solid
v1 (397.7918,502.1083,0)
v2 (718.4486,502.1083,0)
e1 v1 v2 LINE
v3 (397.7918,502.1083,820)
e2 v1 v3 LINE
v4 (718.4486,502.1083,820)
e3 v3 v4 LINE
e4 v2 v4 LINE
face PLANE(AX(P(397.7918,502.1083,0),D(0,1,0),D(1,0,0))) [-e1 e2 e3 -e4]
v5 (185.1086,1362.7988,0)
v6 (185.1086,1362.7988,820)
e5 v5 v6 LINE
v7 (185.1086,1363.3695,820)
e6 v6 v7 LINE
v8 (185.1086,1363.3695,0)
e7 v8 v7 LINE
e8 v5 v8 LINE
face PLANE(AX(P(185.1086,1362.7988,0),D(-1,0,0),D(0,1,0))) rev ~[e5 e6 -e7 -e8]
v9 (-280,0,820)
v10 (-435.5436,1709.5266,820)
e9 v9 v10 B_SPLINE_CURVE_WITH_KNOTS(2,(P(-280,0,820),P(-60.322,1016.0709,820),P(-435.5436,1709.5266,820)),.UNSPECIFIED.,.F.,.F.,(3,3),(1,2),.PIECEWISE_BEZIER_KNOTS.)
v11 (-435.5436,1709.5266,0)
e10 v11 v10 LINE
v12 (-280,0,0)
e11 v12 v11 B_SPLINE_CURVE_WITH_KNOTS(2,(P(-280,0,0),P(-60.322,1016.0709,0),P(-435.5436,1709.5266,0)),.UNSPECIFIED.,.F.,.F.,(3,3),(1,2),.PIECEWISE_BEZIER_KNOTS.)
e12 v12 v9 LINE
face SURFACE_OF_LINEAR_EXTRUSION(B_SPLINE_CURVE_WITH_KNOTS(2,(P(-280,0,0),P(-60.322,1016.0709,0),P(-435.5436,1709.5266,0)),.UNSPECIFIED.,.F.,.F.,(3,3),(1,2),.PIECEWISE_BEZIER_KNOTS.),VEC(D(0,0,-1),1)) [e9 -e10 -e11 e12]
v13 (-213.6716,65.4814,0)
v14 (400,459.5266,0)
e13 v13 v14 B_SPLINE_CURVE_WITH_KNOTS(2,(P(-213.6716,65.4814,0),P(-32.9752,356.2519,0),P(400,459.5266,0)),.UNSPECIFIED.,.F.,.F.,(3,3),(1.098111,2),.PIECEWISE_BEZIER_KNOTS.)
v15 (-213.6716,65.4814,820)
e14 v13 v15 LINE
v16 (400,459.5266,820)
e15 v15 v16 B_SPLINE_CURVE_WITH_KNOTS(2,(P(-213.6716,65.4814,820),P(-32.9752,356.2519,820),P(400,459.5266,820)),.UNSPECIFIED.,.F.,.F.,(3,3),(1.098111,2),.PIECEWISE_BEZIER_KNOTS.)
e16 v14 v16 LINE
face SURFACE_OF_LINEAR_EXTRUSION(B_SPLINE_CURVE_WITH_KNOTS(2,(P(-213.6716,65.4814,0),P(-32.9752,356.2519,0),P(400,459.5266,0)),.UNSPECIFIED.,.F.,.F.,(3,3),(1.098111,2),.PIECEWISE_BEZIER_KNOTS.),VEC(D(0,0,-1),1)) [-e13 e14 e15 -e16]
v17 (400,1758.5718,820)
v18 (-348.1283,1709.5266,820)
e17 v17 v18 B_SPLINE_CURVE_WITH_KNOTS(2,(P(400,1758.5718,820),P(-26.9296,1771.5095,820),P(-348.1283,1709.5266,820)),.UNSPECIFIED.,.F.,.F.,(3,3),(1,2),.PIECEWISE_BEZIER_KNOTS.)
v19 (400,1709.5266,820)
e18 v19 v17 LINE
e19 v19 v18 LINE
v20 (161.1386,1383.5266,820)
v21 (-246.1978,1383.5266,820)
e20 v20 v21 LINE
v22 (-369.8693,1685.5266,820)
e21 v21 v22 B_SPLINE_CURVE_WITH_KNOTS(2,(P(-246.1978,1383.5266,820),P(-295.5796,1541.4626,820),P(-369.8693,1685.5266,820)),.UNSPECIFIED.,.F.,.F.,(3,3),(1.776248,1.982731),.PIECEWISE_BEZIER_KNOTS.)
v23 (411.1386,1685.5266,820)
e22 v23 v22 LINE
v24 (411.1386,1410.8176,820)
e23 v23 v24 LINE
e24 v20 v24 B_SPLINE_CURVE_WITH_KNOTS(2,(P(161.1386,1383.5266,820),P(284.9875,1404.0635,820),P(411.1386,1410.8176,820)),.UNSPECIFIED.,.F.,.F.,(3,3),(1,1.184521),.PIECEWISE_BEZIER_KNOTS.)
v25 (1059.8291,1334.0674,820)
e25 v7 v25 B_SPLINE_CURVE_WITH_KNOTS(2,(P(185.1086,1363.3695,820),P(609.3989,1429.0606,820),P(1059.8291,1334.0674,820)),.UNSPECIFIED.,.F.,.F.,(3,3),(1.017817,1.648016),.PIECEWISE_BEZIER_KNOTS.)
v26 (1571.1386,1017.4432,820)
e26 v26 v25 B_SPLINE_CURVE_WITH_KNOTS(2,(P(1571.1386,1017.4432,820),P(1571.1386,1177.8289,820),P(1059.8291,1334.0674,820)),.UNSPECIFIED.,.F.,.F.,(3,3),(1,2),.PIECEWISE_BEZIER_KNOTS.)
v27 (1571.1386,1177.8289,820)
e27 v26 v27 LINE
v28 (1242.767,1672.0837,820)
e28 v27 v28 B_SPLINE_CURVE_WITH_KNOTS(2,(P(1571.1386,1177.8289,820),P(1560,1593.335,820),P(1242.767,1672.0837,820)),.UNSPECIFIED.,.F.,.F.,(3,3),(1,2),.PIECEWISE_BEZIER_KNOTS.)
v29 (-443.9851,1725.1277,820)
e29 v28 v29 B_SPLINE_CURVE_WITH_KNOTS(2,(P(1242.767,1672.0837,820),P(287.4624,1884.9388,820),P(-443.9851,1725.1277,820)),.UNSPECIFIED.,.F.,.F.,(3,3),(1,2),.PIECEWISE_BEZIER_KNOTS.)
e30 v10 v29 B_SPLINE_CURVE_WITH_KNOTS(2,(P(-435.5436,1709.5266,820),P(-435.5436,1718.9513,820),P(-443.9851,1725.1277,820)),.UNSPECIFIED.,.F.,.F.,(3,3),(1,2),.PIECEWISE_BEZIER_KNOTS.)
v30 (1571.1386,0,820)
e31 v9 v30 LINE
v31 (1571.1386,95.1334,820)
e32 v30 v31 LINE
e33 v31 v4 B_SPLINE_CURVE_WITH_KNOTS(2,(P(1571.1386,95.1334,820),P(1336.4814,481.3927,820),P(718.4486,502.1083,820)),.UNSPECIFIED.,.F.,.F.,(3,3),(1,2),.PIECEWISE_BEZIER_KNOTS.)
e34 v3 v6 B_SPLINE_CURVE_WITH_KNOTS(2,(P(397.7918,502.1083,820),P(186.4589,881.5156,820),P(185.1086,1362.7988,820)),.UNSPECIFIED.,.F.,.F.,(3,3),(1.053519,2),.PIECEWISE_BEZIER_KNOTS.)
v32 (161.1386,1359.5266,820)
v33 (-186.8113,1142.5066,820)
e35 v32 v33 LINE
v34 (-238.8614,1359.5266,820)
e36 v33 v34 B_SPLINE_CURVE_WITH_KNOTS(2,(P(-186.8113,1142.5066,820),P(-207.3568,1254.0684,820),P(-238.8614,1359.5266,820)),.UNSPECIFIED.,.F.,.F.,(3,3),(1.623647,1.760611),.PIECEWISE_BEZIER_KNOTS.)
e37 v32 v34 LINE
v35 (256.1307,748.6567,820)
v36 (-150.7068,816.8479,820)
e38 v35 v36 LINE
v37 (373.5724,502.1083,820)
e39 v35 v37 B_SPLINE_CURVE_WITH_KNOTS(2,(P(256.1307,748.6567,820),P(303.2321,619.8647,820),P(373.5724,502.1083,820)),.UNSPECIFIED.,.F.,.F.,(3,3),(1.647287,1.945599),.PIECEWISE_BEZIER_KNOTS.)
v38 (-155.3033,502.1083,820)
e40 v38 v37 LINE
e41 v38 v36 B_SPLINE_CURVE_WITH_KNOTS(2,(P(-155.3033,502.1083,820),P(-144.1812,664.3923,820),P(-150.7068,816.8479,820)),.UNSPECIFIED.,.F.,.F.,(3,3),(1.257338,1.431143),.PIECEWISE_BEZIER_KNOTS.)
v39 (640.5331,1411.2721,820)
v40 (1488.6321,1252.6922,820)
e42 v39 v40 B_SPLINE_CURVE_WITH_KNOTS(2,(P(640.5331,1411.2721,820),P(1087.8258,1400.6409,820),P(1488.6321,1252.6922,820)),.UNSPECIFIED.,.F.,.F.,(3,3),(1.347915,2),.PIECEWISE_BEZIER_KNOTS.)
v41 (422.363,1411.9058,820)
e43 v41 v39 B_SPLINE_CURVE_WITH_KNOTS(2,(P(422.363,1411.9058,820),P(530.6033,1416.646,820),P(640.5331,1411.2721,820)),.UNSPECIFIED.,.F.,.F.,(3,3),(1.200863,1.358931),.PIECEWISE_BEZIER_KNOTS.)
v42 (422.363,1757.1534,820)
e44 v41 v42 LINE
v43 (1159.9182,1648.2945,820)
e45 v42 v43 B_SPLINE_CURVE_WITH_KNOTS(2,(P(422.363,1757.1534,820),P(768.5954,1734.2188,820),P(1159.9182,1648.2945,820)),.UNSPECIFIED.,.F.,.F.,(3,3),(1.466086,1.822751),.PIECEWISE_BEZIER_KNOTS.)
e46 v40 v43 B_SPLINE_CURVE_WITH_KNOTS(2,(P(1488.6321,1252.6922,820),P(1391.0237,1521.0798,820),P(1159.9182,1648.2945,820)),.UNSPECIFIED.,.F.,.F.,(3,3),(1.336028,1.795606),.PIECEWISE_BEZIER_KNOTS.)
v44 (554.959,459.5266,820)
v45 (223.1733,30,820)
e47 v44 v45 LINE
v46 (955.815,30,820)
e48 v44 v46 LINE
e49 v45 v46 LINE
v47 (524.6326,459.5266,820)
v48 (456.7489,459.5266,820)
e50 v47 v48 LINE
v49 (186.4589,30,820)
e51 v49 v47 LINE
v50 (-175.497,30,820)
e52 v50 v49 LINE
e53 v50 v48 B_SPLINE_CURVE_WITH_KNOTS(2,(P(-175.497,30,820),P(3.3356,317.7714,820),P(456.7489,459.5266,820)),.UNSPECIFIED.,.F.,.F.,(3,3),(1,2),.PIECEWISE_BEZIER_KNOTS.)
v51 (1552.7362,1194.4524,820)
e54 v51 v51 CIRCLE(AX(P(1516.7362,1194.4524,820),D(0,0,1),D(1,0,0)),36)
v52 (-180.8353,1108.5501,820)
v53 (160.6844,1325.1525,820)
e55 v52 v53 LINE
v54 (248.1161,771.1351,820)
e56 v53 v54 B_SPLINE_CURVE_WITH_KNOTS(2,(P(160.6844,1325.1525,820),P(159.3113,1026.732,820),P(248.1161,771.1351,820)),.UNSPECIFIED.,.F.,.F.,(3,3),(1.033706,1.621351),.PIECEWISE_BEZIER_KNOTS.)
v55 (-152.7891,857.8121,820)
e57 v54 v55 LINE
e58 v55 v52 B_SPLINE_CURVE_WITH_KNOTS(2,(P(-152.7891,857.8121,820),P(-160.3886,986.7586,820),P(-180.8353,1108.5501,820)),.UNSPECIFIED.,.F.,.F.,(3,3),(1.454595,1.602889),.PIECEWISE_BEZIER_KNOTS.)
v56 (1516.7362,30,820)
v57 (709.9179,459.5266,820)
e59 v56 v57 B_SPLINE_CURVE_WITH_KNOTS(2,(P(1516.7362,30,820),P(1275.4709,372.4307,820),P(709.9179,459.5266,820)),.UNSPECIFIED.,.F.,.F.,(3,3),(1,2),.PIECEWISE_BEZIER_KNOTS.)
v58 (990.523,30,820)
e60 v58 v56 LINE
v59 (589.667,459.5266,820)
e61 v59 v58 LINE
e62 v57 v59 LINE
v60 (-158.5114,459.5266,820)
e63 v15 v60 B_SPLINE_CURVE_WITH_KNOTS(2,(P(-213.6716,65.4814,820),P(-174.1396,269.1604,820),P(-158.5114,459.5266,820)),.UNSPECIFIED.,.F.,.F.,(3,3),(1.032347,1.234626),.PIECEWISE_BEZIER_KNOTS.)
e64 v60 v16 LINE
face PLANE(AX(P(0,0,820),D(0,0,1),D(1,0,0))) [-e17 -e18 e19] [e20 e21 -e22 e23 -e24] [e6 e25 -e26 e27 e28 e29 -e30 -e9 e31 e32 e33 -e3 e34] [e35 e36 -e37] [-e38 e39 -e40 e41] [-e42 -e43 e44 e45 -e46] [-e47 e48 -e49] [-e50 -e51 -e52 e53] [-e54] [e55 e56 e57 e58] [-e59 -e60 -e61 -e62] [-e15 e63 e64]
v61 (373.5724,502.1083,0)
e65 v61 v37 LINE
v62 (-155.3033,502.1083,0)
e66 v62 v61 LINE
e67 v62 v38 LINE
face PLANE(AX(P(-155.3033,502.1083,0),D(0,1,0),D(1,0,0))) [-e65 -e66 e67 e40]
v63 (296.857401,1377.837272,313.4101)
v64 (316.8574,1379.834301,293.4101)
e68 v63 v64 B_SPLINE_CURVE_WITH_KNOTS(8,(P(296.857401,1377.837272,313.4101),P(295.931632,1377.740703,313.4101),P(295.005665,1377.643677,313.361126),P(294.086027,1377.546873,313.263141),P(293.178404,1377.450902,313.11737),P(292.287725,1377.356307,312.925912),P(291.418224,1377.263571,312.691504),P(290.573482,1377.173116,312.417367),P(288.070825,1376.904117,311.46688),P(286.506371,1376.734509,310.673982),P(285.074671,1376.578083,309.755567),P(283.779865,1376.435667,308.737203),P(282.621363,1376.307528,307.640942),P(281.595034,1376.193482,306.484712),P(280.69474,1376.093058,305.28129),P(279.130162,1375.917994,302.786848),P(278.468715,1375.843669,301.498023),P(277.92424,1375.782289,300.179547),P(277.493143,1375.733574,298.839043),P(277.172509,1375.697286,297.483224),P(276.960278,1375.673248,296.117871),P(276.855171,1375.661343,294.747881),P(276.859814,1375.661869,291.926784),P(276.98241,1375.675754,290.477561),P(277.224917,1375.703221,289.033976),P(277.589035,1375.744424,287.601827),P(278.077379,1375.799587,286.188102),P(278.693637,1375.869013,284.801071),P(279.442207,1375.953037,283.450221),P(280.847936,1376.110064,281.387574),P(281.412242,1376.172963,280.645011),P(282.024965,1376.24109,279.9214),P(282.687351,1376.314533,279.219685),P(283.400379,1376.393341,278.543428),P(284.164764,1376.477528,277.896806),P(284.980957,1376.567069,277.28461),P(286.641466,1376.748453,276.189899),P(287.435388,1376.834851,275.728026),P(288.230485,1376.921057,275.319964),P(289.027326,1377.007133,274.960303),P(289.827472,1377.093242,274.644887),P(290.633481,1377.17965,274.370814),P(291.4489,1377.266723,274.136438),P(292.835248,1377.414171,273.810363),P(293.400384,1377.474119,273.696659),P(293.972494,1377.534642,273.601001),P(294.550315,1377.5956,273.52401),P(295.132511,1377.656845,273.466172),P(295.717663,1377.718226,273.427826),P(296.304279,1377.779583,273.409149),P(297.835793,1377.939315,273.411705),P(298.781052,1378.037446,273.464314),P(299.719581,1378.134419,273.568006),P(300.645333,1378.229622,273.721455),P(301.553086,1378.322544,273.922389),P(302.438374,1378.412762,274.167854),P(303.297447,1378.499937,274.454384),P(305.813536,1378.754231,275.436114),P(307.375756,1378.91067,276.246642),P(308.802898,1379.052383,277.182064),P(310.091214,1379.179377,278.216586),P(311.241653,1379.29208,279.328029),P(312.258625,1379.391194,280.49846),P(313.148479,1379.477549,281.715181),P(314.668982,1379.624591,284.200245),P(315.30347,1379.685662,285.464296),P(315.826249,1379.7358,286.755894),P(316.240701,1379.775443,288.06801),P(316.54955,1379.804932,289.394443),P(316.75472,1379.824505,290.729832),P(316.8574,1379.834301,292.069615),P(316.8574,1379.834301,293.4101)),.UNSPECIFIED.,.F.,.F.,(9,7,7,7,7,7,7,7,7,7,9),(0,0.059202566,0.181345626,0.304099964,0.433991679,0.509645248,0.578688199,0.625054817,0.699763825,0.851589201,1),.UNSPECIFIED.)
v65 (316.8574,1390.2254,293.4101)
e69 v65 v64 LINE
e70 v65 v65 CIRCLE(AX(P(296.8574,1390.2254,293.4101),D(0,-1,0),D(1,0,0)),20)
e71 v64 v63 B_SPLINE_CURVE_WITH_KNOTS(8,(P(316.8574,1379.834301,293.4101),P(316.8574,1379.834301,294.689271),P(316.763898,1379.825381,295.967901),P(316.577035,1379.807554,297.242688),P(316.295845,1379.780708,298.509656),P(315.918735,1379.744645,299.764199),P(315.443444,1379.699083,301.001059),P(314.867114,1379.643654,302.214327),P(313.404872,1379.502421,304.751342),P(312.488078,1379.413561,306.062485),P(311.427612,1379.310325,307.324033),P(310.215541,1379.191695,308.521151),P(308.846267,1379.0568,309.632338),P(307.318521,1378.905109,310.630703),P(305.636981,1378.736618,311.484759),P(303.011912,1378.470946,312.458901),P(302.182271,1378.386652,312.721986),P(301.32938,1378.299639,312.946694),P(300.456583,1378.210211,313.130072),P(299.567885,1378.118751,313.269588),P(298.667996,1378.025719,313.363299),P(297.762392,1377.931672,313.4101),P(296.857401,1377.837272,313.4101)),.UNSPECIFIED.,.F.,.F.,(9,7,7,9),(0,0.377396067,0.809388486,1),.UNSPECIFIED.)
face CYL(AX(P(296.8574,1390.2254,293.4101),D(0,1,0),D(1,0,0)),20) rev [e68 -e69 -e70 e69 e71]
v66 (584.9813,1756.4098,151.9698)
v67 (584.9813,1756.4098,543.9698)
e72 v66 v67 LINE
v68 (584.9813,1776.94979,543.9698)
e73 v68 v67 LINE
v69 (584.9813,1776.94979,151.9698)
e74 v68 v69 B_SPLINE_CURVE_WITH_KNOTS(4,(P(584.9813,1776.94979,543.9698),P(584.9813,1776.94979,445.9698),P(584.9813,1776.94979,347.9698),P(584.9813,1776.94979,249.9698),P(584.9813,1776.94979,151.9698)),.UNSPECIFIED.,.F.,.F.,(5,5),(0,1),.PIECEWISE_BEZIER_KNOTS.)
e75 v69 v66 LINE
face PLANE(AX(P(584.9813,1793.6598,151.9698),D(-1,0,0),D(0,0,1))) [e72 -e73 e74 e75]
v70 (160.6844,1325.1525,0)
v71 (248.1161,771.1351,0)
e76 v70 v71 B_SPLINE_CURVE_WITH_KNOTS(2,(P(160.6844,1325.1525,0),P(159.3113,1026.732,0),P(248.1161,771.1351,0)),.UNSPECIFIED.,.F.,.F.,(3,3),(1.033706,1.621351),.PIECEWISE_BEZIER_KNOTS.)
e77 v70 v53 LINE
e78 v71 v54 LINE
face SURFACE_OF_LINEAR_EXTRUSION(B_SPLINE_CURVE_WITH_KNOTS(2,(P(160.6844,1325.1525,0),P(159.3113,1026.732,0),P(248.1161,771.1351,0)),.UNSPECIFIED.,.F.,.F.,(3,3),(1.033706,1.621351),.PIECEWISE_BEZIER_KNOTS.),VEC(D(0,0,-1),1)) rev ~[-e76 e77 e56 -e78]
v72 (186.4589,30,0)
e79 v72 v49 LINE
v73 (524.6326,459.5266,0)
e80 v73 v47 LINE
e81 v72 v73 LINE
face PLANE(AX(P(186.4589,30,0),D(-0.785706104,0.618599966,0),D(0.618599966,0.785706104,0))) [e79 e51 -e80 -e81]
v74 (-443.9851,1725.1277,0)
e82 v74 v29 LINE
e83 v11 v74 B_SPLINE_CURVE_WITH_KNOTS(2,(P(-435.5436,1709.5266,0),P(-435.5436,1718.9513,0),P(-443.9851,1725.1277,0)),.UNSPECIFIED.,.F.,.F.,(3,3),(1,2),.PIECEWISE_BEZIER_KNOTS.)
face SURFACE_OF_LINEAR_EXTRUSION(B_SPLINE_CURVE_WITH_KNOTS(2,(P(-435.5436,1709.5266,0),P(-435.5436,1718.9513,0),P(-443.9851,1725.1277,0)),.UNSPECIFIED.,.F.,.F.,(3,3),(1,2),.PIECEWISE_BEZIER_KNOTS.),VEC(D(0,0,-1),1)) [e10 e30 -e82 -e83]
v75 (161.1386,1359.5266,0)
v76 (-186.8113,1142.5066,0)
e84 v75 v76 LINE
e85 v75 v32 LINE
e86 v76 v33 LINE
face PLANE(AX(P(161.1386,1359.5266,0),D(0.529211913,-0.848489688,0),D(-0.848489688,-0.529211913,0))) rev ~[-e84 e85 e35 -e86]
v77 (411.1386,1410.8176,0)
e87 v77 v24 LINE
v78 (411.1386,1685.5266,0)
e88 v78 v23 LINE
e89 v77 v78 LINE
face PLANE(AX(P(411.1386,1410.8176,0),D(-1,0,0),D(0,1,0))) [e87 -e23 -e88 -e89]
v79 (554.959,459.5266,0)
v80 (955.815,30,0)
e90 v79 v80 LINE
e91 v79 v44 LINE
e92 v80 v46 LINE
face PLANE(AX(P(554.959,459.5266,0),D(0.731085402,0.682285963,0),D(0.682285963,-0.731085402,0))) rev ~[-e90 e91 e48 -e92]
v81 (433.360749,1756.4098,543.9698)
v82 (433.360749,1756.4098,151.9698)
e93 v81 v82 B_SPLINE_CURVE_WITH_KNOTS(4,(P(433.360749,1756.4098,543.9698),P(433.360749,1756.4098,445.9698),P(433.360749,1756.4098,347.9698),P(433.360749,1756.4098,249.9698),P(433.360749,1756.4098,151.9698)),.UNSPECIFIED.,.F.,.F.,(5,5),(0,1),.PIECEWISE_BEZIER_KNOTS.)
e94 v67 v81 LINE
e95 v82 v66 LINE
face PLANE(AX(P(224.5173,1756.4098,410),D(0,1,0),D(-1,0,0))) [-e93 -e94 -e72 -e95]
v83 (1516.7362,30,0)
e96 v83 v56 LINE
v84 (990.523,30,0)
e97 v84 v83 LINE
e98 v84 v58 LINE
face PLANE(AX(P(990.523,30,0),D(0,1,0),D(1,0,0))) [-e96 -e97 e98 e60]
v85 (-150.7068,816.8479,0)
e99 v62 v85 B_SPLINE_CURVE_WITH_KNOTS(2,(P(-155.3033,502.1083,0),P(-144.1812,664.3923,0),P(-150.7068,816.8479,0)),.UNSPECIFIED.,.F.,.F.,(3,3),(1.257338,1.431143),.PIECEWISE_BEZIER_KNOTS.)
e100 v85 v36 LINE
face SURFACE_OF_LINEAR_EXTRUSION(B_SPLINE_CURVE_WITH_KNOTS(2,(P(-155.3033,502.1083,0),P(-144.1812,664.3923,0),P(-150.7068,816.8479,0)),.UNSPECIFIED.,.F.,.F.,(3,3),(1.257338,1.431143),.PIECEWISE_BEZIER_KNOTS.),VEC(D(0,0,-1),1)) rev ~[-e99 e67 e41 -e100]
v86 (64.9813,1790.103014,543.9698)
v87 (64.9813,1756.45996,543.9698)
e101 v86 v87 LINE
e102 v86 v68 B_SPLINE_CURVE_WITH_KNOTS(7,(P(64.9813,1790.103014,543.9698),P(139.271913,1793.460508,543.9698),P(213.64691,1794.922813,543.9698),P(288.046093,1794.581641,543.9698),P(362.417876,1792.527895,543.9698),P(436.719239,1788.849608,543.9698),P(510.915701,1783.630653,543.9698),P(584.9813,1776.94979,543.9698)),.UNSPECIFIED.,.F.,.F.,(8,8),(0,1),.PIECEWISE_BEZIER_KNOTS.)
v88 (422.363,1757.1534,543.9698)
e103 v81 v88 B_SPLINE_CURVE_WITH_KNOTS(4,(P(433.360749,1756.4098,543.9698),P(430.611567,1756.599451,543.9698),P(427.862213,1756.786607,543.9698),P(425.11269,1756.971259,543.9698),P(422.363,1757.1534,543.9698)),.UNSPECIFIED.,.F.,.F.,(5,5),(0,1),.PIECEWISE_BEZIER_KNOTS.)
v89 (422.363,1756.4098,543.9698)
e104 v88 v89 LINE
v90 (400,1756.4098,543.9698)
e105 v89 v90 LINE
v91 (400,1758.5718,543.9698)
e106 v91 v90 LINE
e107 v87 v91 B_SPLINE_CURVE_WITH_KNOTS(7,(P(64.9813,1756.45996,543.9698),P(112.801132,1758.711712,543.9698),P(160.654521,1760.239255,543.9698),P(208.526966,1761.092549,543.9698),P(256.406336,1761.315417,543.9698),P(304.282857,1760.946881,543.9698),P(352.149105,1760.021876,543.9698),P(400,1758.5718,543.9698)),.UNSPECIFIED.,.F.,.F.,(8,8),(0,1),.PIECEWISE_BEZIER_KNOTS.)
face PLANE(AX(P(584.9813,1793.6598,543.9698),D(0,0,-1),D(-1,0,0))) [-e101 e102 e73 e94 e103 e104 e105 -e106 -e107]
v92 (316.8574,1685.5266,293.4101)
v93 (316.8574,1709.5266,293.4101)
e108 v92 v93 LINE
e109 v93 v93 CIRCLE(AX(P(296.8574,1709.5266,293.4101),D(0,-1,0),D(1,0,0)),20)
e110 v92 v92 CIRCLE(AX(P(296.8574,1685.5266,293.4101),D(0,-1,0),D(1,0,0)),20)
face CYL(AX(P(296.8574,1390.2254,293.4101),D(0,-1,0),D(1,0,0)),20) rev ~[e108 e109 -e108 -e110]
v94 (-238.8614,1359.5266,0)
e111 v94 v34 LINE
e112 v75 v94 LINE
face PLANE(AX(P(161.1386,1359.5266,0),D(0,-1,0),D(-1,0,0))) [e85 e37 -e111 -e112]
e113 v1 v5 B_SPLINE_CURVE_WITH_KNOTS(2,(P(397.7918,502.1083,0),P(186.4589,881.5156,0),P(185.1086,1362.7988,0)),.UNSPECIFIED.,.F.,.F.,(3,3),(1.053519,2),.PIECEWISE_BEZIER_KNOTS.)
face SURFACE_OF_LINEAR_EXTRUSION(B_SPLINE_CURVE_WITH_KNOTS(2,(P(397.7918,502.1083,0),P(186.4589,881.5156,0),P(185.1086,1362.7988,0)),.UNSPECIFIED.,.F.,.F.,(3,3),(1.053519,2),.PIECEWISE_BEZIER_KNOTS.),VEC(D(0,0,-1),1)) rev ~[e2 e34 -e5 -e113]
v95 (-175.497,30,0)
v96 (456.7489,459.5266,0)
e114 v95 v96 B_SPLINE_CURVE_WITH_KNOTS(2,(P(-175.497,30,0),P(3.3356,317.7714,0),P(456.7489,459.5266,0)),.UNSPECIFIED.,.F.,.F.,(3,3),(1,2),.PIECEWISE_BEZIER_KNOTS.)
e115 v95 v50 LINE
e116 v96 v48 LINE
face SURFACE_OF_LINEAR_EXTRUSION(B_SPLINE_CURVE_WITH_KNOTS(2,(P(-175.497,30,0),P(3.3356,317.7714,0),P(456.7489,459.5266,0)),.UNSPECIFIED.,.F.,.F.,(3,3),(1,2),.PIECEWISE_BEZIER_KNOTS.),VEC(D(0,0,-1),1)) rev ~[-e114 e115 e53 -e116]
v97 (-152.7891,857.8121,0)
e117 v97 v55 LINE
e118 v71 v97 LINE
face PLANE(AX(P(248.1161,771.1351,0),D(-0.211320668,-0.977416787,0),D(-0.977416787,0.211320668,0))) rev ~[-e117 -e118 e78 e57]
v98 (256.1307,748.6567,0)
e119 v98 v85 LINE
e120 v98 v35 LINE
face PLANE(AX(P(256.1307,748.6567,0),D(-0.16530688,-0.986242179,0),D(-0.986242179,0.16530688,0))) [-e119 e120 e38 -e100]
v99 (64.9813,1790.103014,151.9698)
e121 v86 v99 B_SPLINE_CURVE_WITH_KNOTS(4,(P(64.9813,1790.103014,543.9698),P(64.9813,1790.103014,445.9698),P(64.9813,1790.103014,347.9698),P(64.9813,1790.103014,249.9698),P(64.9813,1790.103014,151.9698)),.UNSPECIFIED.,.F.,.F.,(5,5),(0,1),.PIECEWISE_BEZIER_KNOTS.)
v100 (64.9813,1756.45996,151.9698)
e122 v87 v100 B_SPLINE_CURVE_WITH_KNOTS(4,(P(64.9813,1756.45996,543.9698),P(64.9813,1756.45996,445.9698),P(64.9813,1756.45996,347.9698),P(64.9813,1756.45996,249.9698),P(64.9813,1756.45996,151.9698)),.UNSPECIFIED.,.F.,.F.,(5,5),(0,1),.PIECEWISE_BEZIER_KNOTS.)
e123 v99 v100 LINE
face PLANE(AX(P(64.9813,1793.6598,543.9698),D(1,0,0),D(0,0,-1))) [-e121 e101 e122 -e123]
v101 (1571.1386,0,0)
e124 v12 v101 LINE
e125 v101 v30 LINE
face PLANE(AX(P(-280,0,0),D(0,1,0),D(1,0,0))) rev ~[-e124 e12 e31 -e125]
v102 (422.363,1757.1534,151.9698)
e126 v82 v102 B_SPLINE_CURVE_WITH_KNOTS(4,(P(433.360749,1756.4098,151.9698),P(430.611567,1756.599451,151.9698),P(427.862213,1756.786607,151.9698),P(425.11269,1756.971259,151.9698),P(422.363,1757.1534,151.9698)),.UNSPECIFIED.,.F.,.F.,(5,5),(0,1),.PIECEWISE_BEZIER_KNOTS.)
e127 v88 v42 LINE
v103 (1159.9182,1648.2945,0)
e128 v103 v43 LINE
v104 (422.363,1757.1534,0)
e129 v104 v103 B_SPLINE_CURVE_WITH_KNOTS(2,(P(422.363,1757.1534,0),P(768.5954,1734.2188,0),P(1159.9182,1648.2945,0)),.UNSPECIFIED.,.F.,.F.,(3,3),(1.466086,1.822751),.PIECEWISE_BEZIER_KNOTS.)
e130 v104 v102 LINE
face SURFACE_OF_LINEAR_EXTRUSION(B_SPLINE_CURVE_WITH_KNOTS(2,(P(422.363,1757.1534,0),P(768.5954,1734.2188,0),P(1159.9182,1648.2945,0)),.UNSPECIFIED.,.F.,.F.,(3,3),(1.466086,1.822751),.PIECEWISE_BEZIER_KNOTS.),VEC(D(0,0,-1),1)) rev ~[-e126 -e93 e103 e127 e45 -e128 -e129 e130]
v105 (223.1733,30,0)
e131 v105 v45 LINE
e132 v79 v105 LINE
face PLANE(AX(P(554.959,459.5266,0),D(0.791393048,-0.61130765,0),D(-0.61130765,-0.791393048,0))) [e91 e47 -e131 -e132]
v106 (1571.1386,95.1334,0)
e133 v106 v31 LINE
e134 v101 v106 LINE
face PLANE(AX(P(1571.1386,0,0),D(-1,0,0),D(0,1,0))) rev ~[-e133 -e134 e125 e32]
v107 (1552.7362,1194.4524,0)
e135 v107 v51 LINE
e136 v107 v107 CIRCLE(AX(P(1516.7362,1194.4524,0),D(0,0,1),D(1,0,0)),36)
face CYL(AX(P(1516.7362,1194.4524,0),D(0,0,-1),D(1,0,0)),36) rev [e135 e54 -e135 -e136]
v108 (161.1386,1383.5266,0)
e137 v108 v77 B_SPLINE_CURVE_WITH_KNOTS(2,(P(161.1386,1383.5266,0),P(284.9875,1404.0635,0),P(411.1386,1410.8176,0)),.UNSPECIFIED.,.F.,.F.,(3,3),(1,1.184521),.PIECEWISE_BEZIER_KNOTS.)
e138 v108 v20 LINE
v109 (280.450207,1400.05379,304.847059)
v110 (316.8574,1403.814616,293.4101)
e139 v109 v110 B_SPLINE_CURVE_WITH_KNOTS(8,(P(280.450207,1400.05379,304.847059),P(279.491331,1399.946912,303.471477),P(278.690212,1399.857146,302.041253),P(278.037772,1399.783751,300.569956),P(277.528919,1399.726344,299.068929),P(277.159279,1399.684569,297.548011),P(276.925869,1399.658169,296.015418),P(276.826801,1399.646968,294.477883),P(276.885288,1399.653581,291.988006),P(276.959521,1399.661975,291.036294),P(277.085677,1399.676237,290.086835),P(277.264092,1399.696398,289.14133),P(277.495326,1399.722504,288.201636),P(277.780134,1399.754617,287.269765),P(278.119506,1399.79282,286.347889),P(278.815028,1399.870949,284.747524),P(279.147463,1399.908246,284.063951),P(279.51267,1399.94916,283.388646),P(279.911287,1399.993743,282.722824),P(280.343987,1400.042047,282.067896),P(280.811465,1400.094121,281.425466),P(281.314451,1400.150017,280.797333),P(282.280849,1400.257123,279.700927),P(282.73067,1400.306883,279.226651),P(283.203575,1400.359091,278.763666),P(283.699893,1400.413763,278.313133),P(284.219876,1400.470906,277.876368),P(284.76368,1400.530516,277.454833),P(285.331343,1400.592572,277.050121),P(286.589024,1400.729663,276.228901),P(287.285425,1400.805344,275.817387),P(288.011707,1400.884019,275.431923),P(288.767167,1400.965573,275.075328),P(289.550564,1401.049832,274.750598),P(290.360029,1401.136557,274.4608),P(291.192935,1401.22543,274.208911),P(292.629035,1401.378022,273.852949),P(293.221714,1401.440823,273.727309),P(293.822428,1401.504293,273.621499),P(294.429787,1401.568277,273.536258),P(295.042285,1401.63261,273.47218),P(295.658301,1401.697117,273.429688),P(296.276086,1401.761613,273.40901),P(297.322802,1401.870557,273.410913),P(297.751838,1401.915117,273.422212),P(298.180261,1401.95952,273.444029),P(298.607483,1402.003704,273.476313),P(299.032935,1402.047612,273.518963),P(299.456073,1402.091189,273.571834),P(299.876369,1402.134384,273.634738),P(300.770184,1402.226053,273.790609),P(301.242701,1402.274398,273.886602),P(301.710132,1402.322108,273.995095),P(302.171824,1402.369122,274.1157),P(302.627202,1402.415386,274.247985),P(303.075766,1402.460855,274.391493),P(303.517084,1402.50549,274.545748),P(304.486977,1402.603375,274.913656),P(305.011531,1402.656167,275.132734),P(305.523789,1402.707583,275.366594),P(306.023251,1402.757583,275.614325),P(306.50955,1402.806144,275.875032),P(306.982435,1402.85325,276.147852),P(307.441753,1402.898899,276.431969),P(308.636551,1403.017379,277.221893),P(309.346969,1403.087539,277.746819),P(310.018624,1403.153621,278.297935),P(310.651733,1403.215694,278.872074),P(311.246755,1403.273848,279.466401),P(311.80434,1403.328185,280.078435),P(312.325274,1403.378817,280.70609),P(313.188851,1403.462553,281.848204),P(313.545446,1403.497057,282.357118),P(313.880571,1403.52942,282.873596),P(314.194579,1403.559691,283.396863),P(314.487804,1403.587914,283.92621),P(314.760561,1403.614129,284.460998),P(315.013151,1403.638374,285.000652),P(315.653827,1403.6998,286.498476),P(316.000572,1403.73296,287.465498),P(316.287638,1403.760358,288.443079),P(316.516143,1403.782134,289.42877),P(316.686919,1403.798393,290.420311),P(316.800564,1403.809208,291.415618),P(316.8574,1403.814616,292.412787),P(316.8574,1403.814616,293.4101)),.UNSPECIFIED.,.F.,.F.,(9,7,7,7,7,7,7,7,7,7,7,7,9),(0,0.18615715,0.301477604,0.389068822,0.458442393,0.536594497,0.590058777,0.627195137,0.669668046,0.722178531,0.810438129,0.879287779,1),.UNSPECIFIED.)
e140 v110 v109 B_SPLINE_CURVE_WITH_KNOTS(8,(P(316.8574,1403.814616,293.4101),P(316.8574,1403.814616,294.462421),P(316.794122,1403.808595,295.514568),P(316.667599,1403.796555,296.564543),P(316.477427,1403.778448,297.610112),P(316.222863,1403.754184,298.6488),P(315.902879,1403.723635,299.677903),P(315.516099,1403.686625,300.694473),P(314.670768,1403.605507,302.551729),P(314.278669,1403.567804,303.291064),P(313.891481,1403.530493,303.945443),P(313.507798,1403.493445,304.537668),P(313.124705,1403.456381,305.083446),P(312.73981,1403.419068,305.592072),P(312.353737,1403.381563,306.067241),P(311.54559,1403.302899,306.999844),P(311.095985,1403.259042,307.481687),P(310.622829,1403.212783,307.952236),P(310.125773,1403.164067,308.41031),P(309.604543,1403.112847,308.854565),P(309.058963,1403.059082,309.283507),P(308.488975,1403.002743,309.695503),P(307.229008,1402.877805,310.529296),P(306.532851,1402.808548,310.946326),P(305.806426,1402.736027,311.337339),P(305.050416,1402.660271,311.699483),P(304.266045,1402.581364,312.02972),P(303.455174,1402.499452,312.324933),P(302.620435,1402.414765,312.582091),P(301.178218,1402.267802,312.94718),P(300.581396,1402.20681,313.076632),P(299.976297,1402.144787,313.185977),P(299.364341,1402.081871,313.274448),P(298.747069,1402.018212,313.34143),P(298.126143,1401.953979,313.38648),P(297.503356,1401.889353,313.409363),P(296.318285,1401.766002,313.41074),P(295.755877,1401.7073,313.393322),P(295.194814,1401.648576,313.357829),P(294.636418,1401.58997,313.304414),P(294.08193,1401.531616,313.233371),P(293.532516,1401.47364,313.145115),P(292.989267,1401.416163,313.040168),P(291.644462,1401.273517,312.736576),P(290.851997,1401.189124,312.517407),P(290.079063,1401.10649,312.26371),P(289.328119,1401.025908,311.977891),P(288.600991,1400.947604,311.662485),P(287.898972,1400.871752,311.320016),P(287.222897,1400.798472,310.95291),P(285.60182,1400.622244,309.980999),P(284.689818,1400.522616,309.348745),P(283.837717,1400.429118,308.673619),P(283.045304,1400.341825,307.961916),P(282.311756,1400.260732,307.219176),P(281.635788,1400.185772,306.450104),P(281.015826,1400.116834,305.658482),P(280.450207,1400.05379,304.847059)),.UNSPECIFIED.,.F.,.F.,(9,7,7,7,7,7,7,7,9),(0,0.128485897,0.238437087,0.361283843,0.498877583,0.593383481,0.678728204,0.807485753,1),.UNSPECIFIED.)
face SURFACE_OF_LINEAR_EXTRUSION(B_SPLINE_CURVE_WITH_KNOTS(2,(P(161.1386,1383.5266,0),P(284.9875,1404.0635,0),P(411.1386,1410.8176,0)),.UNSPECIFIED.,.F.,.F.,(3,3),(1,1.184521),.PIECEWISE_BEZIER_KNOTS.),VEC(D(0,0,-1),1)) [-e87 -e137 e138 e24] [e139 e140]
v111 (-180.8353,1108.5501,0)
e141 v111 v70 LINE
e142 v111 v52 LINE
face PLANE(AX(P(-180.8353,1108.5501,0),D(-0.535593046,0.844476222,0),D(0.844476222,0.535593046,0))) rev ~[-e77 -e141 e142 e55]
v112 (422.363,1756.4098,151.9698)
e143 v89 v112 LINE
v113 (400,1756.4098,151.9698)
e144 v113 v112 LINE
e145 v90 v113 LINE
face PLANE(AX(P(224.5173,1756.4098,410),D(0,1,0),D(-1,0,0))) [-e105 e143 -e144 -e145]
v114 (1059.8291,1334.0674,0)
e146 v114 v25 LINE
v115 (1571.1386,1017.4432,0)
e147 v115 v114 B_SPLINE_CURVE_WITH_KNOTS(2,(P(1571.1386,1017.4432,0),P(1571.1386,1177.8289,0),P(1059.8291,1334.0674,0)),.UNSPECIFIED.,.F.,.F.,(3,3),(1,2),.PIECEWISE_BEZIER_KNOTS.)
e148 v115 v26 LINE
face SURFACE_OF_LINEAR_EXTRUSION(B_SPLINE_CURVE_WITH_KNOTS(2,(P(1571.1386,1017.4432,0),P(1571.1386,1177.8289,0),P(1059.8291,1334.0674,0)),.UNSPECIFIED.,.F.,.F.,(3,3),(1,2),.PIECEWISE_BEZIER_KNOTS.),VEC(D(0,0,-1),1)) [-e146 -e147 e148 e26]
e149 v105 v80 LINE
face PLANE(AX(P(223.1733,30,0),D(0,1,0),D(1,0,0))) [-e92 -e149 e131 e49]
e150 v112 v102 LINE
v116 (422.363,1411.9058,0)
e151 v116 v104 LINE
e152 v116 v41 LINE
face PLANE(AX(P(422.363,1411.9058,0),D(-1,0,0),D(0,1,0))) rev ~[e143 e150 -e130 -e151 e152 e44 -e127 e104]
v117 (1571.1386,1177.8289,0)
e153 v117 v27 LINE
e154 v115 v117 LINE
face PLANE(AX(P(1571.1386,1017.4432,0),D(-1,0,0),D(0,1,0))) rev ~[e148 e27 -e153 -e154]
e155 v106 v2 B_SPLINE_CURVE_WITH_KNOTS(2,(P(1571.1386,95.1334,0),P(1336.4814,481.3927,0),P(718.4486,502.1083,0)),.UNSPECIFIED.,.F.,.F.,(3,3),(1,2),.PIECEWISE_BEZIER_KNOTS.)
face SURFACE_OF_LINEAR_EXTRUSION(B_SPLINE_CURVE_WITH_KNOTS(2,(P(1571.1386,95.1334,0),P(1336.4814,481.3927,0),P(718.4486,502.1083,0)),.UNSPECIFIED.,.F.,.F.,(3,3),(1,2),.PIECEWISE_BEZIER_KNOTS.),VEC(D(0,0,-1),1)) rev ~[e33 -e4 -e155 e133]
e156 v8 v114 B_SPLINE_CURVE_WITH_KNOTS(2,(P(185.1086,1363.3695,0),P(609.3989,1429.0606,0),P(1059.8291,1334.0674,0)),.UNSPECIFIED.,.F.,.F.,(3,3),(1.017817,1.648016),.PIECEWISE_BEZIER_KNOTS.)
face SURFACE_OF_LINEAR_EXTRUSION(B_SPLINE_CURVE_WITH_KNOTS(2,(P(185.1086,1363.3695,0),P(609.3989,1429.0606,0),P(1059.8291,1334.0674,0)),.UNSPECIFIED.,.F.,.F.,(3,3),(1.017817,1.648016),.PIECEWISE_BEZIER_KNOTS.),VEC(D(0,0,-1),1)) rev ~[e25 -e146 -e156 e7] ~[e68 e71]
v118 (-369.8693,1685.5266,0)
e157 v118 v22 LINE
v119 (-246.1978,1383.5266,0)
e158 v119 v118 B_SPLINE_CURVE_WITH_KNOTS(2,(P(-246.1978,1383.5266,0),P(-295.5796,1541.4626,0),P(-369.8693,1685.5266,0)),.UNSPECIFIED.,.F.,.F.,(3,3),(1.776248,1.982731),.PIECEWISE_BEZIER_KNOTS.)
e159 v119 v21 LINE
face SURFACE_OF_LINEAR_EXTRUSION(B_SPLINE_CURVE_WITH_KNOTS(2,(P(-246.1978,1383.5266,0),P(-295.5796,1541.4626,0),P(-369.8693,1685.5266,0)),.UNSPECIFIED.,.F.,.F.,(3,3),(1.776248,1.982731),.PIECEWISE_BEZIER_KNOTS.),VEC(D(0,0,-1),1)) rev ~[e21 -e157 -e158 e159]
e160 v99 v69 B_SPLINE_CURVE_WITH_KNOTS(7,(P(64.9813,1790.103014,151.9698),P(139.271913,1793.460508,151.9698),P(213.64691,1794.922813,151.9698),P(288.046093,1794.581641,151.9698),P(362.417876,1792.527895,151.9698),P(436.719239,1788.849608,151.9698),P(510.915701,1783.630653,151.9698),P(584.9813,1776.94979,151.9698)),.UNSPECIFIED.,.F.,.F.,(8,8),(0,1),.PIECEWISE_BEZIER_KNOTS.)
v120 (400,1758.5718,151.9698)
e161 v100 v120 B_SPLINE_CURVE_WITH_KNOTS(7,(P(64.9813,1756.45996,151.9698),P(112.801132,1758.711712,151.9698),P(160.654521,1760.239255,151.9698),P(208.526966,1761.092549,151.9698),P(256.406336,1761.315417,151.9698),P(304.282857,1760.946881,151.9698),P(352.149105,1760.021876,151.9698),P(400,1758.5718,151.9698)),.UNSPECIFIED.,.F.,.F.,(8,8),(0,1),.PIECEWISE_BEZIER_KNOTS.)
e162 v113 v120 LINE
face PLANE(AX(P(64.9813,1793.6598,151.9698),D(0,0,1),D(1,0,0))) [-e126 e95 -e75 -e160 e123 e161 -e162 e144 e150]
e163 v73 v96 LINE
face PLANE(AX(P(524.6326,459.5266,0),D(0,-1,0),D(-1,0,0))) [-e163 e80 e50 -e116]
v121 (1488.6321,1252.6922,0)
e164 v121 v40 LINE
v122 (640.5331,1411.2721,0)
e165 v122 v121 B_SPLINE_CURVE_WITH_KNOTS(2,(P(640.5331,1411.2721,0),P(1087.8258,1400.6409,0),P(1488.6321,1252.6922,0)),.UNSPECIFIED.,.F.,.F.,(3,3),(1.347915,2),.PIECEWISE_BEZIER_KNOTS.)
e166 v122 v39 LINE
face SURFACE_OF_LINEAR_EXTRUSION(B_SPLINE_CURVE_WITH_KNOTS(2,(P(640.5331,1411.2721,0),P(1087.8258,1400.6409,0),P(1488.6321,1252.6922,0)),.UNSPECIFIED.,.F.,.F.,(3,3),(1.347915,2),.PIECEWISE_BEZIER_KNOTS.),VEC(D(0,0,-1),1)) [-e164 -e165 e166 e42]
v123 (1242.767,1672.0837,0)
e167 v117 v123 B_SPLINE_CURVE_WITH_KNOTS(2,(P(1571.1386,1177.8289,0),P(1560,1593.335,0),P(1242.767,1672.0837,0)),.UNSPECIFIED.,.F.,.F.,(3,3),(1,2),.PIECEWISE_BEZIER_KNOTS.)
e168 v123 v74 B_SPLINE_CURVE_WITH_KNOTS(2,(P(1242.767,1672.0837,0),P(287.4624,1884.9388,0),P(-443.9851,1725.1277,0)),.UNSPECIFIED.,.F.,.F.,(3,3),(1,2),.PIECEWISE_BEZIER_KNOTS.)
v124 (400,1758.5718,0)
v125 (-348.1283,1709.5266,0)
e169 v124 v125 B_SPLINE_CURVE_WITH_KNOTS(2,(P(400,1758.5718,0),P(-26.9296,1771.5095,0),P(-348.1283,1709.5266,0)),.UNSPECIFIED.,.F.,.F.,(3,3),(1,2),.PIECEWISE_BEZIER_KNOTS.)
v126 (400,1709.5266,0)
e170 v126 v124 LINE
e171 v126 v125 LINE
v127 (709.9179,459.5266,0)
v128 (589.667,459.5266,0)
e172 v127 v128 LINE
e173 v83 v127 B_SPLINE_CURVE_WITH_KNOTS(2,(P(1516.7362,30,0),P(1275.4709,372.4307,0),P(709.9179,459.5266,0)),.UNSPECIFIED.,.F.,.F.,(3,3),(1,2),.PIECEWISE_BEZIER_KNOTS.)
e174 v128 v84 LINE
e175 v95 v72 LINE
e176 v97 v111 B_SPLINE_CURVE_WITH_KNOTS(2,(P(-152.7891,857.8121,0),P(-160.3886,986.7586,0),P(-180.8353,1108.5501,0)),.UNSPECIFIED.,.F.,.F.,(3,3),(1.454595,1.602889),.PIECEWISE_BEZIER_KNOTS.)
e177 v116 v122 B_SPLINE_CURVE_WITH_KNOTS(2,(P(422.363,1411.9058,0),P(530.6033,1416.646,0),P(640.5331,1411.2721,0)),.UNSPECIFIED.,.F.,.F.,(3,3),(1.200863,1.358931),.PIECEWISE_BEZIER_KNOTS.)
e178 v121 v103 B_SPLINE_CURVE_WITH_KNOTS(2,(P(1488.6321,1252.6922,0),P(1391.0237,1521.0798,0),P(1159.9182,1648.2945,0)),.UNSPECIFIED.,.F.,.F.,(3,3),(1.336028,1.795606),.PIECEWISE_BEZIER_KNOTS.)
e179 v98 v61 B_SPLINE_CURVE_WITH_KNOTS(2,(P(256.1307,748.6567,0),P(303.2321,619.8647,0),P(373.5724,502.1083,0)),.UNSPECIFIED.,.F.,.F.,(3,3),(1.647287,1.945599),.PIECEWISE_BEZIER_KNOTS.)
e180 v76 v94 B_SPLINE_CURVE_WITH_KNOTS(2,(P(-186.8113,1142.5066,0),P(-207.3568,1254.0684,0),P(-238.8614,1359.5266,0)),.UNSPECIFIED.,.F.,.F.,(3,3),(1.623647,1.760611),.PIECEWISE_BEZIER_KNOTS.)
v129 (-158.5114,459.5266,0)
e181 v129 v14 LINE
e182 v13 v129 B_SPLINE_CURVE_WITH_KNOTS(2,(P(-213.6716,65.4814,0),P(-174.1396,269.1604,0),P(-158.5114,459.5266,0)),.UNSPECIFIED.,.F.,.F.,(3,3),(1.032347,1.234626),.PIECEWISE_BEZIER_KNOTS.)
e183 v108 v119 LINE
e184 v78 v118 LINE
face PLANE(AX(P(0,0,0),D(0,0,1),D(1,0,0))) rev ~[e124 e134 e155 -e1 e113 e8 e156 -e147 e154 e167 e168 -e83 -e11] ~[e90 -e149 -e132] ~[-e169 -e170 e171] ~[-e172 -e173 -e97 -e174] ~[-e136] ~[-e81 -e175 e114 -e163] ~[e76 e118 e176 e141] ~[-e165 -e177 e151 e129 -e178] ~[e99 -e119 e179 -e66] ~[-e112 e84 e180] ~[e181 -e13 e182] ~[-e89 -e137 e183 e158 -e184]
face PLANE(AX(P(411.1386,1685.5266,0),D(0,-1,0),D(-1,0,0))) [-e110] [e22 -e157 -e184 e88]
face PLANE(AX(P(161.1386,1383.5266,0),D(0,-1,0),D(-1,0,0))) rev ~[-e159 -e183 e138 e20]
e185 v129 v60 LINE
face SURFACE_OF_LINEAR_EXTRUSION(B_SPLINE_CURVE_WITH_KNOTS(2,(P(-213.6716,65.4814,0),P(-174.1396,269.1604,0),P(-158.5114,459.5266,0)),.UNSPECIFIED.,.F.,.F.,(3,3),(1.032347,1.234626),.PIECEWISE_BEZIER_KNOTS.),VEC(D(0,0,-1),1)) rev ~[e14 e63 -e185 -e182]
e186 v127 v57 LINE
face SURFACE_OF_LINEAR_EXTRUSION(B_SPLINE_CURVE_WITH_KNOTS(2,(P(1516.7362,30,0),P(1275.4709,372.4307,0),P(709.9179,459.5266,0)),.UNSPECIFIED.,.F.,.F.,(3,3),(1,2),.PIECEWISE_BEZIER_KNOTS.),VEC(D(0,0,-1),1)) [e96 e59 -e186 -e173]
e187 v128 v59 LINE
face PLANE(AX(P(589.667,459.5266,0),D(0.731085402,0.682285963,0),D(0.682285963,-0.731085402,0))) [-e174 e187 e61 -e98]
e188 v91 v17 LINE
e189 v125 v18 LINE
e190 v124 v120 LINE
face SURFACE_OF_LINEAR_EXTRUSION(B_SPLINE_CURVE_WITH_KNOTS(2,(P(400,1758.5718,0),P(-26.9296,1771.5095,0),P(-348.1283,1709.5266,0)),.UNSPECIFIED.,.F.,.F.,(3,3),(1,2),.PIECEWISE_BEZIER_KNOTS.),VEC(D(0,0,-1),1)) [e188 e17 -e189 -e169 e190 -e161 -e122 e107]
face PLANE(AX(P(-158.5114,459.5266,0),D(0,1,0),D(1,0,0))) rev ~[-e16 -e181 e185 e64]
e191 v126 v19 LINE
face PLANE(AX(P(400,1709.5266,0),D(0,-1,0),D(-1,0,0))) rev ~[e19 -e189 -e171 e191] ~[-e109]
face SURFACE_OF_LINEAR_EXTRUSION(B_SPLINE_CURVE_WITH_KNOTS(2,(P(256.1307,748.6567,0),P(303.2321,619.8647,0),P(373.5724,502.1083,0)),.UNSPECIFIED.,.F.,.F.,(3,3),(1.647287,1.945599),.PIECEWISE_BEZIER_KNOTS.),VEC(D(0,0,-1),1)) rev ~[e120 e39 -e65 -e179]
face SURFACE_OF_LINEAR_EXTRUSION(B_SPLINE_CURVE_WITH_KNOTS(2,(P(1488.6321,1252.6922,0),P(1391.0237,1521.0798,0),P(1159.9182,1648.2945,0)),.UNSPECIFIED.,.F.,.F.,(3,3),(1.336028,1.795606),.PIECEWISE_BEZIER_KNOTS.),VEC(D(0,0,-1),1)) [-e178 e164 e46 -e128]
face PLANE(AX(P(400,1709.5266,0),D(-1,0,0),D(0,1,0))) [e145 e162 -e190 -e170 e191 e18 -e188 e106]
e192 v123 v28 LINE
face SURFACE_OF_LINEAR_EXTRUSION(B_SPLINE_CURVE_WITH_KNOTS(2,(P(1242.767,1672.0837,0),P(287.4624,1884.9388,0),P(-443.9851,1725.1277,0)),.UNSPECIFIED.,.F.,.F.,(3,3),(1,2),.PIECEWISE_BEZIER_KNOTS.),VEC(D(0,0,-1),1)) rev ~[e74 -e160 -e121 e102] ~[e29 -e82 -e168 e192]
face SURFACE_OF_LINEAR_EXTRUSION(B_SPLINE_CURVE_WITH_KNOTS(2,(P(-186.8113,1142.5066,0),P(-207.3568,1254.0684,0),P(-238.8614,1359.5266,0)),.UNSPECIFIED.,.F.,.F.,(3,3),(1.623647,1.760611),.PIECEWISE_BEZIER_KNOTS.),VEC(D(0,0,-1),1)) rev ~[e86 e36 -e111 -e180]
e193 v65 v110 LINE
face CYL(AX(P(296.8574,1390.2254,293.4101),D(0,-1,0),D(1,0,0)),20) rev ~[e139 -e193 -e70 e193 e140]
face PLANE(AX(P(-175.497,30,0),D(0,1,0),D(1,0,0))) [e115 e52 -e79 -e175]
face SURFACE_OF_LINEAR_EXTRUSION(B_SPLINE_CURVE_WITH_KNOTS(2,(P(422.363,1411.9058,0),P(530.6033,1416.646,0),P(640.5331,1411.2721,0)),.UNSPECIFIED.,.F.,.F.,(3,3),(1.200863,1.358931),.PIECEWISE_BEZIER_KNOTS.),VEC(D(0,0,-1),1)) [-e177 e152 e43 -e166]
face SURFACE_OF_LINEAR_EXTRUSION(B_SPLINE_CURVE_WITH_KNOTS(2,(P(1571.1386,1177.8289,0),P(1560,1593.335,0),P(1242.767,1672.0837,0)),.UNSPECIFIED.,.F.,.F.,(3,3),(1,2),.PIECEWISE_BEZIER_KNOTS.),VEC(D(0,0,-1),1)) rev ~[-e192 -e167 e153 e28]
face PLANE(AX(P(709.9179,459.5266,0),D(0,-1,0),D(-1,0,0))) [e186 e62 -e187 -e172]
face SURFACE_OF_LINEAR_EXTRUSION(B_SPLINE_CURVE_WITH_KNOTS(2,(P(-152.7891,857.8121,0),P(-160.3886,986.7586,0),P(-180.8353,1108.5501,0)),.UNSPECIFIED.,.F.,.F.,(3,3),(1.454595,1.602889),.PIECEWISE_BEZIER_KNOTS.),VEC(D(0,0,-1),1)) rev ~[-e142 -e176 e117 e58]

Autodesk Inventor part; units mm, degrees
ref_plane "YZ Plane" through (0, 0, 0) normal (1, 0, 0) x (0, 1, 0)
sketch "Sketch1" plane through (0, 0, 0) normal (0, 0, 1) x (1, 0, 0)
  line L0 (161.1386, 1359.5266) -> (-238.8614, 1359.5266)
  line L1 (161.1386, 1359.5266) -> (-238.8612, 1359.5253)
  line L2 (161.1386, 1359.5266) -> (-238.8613, 1359.5262)
  line L3 (161.1386, 1359.5266) -> (-186.8113, 1142.5066)
  line L4 (248.1161, 771.1351) -> (-152.7891, 857.8121)
  line L5 (-158.5114, 459.5266) -> (400, 459.5266)
  line L6 (-32.9752, 356.2519) -> (400, 459.5266) construction
  spline S0 degree 2 poles (-213.6716, 65.4814) (-32.9752, 356.2519) (400, 459.5266) knots 1.098111 1.098111 1.098111 2 2 2
  line L7 (554.959, 459.5266) -> (223.1733, 30)
  line L8 (554.959, 459.5266) -> (955.815, 30)
  line L9 (400, 1709.5266) -> (-348.1283, 1709.5266)
  line L10 (1559.9999, 1359.5314) -> (1560, 1359.5266)
  line L11 (411.1386, 1410.8176) -> (411.1386, 1509.5266)
  spline S1 degree 2 poles (185.1086, 1363.3695) (609.3989, 1429.0606) (1059.8291, 1334.0674) knots 1.017817 1.017817 1.017817 1.648016 1.648016 1.648016
  line L12 (161.1386, 1383.5266) -> (284.9875, 1404.0635) construction
  spline S2 degree 2 poles (1488.6321, 1252.6922) (1391.0237, 1521.0798) (1159.9182, 1648.2945) knots 1.336028 1.336028 1.336028 1.795606 1.795606 1.795606
  line L13 (1391.0237, 1521.0798) -> (1159.9182, 1648.2945) construction
  line L14 (768.5954, 1734.2188) -> (1159.9182, 1648.2945) construction
  line L15 (1571.1386, 1017.4432) -> (1571.1386, 1177.8289) construction
  line L16 (1571.1386, 1177.8289) -> (1059.8291, 1334.0674) construction
  spline S3 degree 2 poles (1571.1386, 1017.4432) (1571.1386, 1177.8289) (1059.8291, 1334.0674) knots 1 1 1 2 2 2
  line L17 (609.3989, 1429.0606) -> (1059.8291, 1334.0674) construction
  line L18 (1571.1386, 1177.8289) -> (1560, 1593.335) construction
  line L19 (1560, 1593.335) -> (1242.767, 1672.0837) construction
  spline S4 degree 2 poles (1571.1386, 1177.8289) (1560, 1593.335) (1242.767, 1672.0837) knots 1 1 1 2 2 2
  line L20 (1087.8258, 1400.6409) -> (1488.6321, 1252.6922) construction
  spline S5 degree 2 poles (640.5331, 1411.2721) (1087.8258, 1400.6409) (1488.6321, 1252.6922) knots 1.347915 1.347915 1.347915 2 2 2
  line L21 (1488.6321, 1252.6922) -> (1391.0237, 1521.0798) construction
  line L22 (530.6033, 1416.646) -> (640.5331, 1411.2721) construction
  line L23 (640.5331, 1411.2721) -> (1087.8258, 1400.6409) construction
  line L24 (422.363, 1411.9058) -> (422.363, 1757.1534)
  line L25 (411.1386, 1685.5266) -> (-369.8693, 1685.5266)
  line L26 (-295.5796, 1541.4626) -> (-369.8693, 1685.5266) construction
  line L27 (411.1386, 1509.5266) -> (411.1386, 1685.5266)
  line L28 (400, 1709.5266) -> (400, 1758.5718)
  spline S6 degree 2 poles (422.363, 1757.1534) (768.5954, 1734.2188) (1159.9182, 1648.2945) knots 1.466086 1.466086 1.466086 1.822751 1.822751 1.822751
  line L29 (422.363, 1757.1534) -> (768.5954, 1734.2188) construction
  spline S7 degree 2 poles (161.1386, 1383.5266) (284.9875, 1404.0635) (411.1386, 1410.8176) knots 1 1 1 1.184521 1.184521 1.184521
  spline S8 degree 2 poles (422.363, 1411.9058) (530.6033, 1416.646) (640.5331, 1411.2721) knots 1.200863 1.200863 1.200863 1.358931 1.358931 1.358931
  line L30 (284.9875, 1404.0635) -> (411.1386, 1410.8176) construction
  line L31 (422.363, 1411.9058) -> (530.6033, 1416.646) construction
  line L32 (161.1386, 1383.5266) -> (-246.1978, 1383.5266)
  spline S9 degree 2 poles (-246.1978, 1383.5266) (-295.5796, 1541.4626) (-369.8693, 1685.5266) knots 1.776248 1.776248 1.776248 1.982731 1.982731 1.982731
  line L33 (-207.3568, 1254.0684) -> (-238.8614, 1359.5266) construction
  line L34 (-246.1978, 1383.5266) -> (-295.5796, 1541.4626) construction
  line L35 (-30.322, 1016.0709) -> (-60.322, 1016.0709)
  line L36 (-280, 0) -> (-60.322, 1016.0709) construction
  line L37 (-60.322, 1016.0709) -> (-435.5436, 1709.5266) construction
  spline S10 degree 2 poles (-280, 0) (-60.322, 1016.0709) (-435.5436, 1709.5266) knots 1 1 1 2 2 2
  line L38 (1242.767, 1672.0837) -> (287.4624, 1884.9388) construction
  line L39 (287.4624, 1884.9388) -> (-443.9851, 1725.1277) construction
  spline S11 degree 2 poles (1242.767, 1672.0837) (287.4624, 1884.9388) (-443.9851, 1725.1277) knots 1 1 1 2 2 2
  line L40 (-435.5436, 1709.5266) -> (-435.5436, 1718.9513) construction
  line L41 (-435.5436, 1718.9513) -> (-443.9851, 1725.1277) construction
  spline S12 degree 2 poles (-435.5436, 1709.5266) (-435.5436, 1718.9513) (-443.9851, 1725.1277) knots 1 1 1 2 2 2
  line L42 (400, 1758.5718) -> (-26.9296, 1771.5095) construction
  line L43 (-26.9296, 1771.5095) -> (-348.1283, 1709.5266) construction
  spline S13 degree 2 poles (400, 1758.5718) (-26.9296, 1771.5095) (-348.1283, 1709.5266) knots 1 1 1 2 2 2
  line L44 (-213.6716, 65.4814) -> (-32.9752, 356.2519) construction
  line L45 (186.4589, 881.5156) -> (185.1086, 1362.7988) construction
  spline S14 degree 2 poles (397.7918, 502.1083) (186.4589, 881.5156) (185.1086, 1362.7988) knots 1.053519 1.053519 1.053519 2 2 2
  line L46 (185.1086, 1362.7988) -> (185.1086, 1363.3695)
  line L47 (185.1086, 1363.3695) -> (609.3989, 1429.0606) construction
  line L48 (-180.8353, 1108.5501) -> (163.0717, 1326.6666)
  line L49 (160.6844, 1325.1525) -> (159.3113, 1026.732) construction
  spline S15 degree 2 poles (-186.8113, 1142.5066) (-207.3568, 1254.0684) (-238.8614, 1359.5266) knots 1.623647 1.623647 1.623647 1.760611 1.760611 1.760611
  line L50 (-160.3886, 986.7586) -> (-180.8353, 1108.5501) construction
  line L51 (-186.8113, 1142.5066) -> (-207.3568, 1254.0684) construction
  line L52 (256.1307, 748.6567) -> (-150.7068, 816.8479)
  spline S16 degree 2 poles (-152.7891, 857.8121) (-160.3886, 986.7586) (-180.8353, 1108.5501) knots 1.454595 1.454595 1.454595 1.602889 1.602889 1.602889
  line L53 (-144.1812, 664.3923) -> (-150.7068, 816.8479) construction
  line L54 (-152.7891, 857.8121) -> (-160.3886, 986.7586) construction
  spline S17 degree 2 poles (160.6844, 1325.1525) (159.3113, 1026.732) (248.1161, 771.1351) knots 1.033706 1.033706 1.033706 1.621351 1.621351 1.621351
  spline S18 degree 2 poles (256.1307, 748.6567) (303.2321, 619.8647) (373.5724, 502.1083) knots 1.647287 1.647287 1.647287 1.945599 1.945599 1.945599
  line L55 (159.3113, 1026.732) -> (248.1161, 771.1351) construction
  line L56 (256.1307, 748.6567) -> (303.2321, 619.8647) construction
  line L57 (-155.3033, 502.1083) -> (373.5724, 502.1083)
  line L58 (303.2321, 619.8647) -> (373.5724, 502.1083) construction
  spline S19 degree 2 poles (-213.6716, 65.4814) (-174.1396, 269.1604) (-158.5114, 459.5266) knots 1.032347 1.032347 1.032347 1.234626 1.234626 1.234626
  spline S20 degree 2 poles (-155.3033, 502.1083) (-144.1812, 664.3923) (-150.7068, 816.8479) knots 1.257338 1.257338 1.257338 1.431143 1.431143 1.431143
  line L59 (-174.1396, 269.1604) -> (-158.5114, 459.5266) construction
  line L60 (-155.3033, 502.1083) -> (-144.1812, 664.3923) construction
  line L61 (-175.497, 30) -> (3.3356, 317.7714) construction
  line L62 (3.3356, 317.7714) -> (456.7489, 459.5266) construction
  spline S21 degree 2 poles (-175.497, 30) (3.3356, 317.7714) (456.7489, 459.5266) knots 1 1 1 2 2 2
  line L63 (397.7918, 502.1083) -> (718.4486, 502.1083)
  line L64 (1571.1386, 95.1334) -> (1336.4814, 481.3927) construction
  line L65 (1336.4814, 481.3927) -> (718.4486, 502.1083) construction
  spline S22 degree 2 poles (1571.1386, 95.1334) (1336.4814, 481.3927) (718.4486, 502.1083) knots 1 1 1 2 2 2
  line L66 (397.7918, 502.1083) -> (186.4589, 881.5156) construction
  line L67 (1516.7362, 30) -> (1275.4709, 372.4307) construction
  line L68 (1275.4709, 372.4307) -> (709.9179, 459.5266) construction
  spline S23 degree 2 poles (1516.7362, 30) (1275.4709, 372.4307) (709.9179, 459.5266) knots 1 1 1 2 2 2
  line L69 (-213.6716, 65.4814) -> (-174.1396, 269.1604) construction
  line L70 (1571.1386, 0) -> (1571.1386, 95.1334)
  line L71 (1571.1386, 1017.4432) -> (1571.1386, 1177.8289)
  line L72 (186.4589, 30) -> (524.6326, 459.5266)
  line L73 (589.667, 459.5266) -> (990.523, 30)
  line L74 (709.9179, 459.5266) -> (589.667, 459.5266)
  line L75 (524.6326, 459.5266) -> (456.7489, 459.5266)
  line L76 (-175.497, 30) -> (186.4589, 30)
  line L77 (223.1733, 30) -> (955.815, 30)
  line L78 (990.523, 30) -> (1516.7362, 30)
  circle A0 centre (1516.7362, 1194.4524) radius 36
  line L79 (-280, 0) -> (1571.1386, 0)
  point P0 (390.9108, 1423.4749)
  point P1 (271.3597, 1843.399)
  point P2 (-16.2977, 999.8731)
  point P3 (-67.3038, 785.2568)
  point P4 (158.4265, 834.4446)
  point P5 (-99.7467, 625.5419)
  point P6 (-135.0742, 451.6261)
  dimension "d13" = 400
  dimension "d25" = 30
  dimension "d27" = 72
extrude "Extrusion1" add sketch "Sketch1" along normal blind 820
ref_plane "Work Plane1" through (224.5173, 1793.6598, 410) normal (0, 1, 0) x (-1, 0, 0)
sketch "Sketch2" plane through (224.5173, 1793.6598, 410) normal (0, 1, 0) x (-1, 0, 0)
  line L0 (159.536, -258.0302) -> (-360.464, -258.0302)
  line L1 (-360.464, -258.0302) -> (-360.464, 133.9698)
  line L2 (-360.464, 133.9698) -> (159.536, 133.9698)
  line L3 (159.536, 133.9698) -> (159.536, -258.0302)
  point P0 (224.5173, -410)
  dimension "d30" = 520
  dimension "d31" = 392
extrude "Extrusion2" cut sketch "Sketch2" against normal blind 37.25
ref_plane "Work Plane2" through (536.3949, 1390.2254, 410) normal (0, -1, 0) x (1, 0, 0)
sketch "Sketch3" plane through (536.3949, 1390.2254, 410) normal (0, -1, 0) x (1, 0, 0)
  circle A0 centre (-239.5375, -116.5899) radius 20
  point P0 (-536.3949, -410)
  dimension "d34" = 40
extrude "Extrusion3" cut sketch "Sketch3" along normal mid plane 874.75
properties part number "silla"
